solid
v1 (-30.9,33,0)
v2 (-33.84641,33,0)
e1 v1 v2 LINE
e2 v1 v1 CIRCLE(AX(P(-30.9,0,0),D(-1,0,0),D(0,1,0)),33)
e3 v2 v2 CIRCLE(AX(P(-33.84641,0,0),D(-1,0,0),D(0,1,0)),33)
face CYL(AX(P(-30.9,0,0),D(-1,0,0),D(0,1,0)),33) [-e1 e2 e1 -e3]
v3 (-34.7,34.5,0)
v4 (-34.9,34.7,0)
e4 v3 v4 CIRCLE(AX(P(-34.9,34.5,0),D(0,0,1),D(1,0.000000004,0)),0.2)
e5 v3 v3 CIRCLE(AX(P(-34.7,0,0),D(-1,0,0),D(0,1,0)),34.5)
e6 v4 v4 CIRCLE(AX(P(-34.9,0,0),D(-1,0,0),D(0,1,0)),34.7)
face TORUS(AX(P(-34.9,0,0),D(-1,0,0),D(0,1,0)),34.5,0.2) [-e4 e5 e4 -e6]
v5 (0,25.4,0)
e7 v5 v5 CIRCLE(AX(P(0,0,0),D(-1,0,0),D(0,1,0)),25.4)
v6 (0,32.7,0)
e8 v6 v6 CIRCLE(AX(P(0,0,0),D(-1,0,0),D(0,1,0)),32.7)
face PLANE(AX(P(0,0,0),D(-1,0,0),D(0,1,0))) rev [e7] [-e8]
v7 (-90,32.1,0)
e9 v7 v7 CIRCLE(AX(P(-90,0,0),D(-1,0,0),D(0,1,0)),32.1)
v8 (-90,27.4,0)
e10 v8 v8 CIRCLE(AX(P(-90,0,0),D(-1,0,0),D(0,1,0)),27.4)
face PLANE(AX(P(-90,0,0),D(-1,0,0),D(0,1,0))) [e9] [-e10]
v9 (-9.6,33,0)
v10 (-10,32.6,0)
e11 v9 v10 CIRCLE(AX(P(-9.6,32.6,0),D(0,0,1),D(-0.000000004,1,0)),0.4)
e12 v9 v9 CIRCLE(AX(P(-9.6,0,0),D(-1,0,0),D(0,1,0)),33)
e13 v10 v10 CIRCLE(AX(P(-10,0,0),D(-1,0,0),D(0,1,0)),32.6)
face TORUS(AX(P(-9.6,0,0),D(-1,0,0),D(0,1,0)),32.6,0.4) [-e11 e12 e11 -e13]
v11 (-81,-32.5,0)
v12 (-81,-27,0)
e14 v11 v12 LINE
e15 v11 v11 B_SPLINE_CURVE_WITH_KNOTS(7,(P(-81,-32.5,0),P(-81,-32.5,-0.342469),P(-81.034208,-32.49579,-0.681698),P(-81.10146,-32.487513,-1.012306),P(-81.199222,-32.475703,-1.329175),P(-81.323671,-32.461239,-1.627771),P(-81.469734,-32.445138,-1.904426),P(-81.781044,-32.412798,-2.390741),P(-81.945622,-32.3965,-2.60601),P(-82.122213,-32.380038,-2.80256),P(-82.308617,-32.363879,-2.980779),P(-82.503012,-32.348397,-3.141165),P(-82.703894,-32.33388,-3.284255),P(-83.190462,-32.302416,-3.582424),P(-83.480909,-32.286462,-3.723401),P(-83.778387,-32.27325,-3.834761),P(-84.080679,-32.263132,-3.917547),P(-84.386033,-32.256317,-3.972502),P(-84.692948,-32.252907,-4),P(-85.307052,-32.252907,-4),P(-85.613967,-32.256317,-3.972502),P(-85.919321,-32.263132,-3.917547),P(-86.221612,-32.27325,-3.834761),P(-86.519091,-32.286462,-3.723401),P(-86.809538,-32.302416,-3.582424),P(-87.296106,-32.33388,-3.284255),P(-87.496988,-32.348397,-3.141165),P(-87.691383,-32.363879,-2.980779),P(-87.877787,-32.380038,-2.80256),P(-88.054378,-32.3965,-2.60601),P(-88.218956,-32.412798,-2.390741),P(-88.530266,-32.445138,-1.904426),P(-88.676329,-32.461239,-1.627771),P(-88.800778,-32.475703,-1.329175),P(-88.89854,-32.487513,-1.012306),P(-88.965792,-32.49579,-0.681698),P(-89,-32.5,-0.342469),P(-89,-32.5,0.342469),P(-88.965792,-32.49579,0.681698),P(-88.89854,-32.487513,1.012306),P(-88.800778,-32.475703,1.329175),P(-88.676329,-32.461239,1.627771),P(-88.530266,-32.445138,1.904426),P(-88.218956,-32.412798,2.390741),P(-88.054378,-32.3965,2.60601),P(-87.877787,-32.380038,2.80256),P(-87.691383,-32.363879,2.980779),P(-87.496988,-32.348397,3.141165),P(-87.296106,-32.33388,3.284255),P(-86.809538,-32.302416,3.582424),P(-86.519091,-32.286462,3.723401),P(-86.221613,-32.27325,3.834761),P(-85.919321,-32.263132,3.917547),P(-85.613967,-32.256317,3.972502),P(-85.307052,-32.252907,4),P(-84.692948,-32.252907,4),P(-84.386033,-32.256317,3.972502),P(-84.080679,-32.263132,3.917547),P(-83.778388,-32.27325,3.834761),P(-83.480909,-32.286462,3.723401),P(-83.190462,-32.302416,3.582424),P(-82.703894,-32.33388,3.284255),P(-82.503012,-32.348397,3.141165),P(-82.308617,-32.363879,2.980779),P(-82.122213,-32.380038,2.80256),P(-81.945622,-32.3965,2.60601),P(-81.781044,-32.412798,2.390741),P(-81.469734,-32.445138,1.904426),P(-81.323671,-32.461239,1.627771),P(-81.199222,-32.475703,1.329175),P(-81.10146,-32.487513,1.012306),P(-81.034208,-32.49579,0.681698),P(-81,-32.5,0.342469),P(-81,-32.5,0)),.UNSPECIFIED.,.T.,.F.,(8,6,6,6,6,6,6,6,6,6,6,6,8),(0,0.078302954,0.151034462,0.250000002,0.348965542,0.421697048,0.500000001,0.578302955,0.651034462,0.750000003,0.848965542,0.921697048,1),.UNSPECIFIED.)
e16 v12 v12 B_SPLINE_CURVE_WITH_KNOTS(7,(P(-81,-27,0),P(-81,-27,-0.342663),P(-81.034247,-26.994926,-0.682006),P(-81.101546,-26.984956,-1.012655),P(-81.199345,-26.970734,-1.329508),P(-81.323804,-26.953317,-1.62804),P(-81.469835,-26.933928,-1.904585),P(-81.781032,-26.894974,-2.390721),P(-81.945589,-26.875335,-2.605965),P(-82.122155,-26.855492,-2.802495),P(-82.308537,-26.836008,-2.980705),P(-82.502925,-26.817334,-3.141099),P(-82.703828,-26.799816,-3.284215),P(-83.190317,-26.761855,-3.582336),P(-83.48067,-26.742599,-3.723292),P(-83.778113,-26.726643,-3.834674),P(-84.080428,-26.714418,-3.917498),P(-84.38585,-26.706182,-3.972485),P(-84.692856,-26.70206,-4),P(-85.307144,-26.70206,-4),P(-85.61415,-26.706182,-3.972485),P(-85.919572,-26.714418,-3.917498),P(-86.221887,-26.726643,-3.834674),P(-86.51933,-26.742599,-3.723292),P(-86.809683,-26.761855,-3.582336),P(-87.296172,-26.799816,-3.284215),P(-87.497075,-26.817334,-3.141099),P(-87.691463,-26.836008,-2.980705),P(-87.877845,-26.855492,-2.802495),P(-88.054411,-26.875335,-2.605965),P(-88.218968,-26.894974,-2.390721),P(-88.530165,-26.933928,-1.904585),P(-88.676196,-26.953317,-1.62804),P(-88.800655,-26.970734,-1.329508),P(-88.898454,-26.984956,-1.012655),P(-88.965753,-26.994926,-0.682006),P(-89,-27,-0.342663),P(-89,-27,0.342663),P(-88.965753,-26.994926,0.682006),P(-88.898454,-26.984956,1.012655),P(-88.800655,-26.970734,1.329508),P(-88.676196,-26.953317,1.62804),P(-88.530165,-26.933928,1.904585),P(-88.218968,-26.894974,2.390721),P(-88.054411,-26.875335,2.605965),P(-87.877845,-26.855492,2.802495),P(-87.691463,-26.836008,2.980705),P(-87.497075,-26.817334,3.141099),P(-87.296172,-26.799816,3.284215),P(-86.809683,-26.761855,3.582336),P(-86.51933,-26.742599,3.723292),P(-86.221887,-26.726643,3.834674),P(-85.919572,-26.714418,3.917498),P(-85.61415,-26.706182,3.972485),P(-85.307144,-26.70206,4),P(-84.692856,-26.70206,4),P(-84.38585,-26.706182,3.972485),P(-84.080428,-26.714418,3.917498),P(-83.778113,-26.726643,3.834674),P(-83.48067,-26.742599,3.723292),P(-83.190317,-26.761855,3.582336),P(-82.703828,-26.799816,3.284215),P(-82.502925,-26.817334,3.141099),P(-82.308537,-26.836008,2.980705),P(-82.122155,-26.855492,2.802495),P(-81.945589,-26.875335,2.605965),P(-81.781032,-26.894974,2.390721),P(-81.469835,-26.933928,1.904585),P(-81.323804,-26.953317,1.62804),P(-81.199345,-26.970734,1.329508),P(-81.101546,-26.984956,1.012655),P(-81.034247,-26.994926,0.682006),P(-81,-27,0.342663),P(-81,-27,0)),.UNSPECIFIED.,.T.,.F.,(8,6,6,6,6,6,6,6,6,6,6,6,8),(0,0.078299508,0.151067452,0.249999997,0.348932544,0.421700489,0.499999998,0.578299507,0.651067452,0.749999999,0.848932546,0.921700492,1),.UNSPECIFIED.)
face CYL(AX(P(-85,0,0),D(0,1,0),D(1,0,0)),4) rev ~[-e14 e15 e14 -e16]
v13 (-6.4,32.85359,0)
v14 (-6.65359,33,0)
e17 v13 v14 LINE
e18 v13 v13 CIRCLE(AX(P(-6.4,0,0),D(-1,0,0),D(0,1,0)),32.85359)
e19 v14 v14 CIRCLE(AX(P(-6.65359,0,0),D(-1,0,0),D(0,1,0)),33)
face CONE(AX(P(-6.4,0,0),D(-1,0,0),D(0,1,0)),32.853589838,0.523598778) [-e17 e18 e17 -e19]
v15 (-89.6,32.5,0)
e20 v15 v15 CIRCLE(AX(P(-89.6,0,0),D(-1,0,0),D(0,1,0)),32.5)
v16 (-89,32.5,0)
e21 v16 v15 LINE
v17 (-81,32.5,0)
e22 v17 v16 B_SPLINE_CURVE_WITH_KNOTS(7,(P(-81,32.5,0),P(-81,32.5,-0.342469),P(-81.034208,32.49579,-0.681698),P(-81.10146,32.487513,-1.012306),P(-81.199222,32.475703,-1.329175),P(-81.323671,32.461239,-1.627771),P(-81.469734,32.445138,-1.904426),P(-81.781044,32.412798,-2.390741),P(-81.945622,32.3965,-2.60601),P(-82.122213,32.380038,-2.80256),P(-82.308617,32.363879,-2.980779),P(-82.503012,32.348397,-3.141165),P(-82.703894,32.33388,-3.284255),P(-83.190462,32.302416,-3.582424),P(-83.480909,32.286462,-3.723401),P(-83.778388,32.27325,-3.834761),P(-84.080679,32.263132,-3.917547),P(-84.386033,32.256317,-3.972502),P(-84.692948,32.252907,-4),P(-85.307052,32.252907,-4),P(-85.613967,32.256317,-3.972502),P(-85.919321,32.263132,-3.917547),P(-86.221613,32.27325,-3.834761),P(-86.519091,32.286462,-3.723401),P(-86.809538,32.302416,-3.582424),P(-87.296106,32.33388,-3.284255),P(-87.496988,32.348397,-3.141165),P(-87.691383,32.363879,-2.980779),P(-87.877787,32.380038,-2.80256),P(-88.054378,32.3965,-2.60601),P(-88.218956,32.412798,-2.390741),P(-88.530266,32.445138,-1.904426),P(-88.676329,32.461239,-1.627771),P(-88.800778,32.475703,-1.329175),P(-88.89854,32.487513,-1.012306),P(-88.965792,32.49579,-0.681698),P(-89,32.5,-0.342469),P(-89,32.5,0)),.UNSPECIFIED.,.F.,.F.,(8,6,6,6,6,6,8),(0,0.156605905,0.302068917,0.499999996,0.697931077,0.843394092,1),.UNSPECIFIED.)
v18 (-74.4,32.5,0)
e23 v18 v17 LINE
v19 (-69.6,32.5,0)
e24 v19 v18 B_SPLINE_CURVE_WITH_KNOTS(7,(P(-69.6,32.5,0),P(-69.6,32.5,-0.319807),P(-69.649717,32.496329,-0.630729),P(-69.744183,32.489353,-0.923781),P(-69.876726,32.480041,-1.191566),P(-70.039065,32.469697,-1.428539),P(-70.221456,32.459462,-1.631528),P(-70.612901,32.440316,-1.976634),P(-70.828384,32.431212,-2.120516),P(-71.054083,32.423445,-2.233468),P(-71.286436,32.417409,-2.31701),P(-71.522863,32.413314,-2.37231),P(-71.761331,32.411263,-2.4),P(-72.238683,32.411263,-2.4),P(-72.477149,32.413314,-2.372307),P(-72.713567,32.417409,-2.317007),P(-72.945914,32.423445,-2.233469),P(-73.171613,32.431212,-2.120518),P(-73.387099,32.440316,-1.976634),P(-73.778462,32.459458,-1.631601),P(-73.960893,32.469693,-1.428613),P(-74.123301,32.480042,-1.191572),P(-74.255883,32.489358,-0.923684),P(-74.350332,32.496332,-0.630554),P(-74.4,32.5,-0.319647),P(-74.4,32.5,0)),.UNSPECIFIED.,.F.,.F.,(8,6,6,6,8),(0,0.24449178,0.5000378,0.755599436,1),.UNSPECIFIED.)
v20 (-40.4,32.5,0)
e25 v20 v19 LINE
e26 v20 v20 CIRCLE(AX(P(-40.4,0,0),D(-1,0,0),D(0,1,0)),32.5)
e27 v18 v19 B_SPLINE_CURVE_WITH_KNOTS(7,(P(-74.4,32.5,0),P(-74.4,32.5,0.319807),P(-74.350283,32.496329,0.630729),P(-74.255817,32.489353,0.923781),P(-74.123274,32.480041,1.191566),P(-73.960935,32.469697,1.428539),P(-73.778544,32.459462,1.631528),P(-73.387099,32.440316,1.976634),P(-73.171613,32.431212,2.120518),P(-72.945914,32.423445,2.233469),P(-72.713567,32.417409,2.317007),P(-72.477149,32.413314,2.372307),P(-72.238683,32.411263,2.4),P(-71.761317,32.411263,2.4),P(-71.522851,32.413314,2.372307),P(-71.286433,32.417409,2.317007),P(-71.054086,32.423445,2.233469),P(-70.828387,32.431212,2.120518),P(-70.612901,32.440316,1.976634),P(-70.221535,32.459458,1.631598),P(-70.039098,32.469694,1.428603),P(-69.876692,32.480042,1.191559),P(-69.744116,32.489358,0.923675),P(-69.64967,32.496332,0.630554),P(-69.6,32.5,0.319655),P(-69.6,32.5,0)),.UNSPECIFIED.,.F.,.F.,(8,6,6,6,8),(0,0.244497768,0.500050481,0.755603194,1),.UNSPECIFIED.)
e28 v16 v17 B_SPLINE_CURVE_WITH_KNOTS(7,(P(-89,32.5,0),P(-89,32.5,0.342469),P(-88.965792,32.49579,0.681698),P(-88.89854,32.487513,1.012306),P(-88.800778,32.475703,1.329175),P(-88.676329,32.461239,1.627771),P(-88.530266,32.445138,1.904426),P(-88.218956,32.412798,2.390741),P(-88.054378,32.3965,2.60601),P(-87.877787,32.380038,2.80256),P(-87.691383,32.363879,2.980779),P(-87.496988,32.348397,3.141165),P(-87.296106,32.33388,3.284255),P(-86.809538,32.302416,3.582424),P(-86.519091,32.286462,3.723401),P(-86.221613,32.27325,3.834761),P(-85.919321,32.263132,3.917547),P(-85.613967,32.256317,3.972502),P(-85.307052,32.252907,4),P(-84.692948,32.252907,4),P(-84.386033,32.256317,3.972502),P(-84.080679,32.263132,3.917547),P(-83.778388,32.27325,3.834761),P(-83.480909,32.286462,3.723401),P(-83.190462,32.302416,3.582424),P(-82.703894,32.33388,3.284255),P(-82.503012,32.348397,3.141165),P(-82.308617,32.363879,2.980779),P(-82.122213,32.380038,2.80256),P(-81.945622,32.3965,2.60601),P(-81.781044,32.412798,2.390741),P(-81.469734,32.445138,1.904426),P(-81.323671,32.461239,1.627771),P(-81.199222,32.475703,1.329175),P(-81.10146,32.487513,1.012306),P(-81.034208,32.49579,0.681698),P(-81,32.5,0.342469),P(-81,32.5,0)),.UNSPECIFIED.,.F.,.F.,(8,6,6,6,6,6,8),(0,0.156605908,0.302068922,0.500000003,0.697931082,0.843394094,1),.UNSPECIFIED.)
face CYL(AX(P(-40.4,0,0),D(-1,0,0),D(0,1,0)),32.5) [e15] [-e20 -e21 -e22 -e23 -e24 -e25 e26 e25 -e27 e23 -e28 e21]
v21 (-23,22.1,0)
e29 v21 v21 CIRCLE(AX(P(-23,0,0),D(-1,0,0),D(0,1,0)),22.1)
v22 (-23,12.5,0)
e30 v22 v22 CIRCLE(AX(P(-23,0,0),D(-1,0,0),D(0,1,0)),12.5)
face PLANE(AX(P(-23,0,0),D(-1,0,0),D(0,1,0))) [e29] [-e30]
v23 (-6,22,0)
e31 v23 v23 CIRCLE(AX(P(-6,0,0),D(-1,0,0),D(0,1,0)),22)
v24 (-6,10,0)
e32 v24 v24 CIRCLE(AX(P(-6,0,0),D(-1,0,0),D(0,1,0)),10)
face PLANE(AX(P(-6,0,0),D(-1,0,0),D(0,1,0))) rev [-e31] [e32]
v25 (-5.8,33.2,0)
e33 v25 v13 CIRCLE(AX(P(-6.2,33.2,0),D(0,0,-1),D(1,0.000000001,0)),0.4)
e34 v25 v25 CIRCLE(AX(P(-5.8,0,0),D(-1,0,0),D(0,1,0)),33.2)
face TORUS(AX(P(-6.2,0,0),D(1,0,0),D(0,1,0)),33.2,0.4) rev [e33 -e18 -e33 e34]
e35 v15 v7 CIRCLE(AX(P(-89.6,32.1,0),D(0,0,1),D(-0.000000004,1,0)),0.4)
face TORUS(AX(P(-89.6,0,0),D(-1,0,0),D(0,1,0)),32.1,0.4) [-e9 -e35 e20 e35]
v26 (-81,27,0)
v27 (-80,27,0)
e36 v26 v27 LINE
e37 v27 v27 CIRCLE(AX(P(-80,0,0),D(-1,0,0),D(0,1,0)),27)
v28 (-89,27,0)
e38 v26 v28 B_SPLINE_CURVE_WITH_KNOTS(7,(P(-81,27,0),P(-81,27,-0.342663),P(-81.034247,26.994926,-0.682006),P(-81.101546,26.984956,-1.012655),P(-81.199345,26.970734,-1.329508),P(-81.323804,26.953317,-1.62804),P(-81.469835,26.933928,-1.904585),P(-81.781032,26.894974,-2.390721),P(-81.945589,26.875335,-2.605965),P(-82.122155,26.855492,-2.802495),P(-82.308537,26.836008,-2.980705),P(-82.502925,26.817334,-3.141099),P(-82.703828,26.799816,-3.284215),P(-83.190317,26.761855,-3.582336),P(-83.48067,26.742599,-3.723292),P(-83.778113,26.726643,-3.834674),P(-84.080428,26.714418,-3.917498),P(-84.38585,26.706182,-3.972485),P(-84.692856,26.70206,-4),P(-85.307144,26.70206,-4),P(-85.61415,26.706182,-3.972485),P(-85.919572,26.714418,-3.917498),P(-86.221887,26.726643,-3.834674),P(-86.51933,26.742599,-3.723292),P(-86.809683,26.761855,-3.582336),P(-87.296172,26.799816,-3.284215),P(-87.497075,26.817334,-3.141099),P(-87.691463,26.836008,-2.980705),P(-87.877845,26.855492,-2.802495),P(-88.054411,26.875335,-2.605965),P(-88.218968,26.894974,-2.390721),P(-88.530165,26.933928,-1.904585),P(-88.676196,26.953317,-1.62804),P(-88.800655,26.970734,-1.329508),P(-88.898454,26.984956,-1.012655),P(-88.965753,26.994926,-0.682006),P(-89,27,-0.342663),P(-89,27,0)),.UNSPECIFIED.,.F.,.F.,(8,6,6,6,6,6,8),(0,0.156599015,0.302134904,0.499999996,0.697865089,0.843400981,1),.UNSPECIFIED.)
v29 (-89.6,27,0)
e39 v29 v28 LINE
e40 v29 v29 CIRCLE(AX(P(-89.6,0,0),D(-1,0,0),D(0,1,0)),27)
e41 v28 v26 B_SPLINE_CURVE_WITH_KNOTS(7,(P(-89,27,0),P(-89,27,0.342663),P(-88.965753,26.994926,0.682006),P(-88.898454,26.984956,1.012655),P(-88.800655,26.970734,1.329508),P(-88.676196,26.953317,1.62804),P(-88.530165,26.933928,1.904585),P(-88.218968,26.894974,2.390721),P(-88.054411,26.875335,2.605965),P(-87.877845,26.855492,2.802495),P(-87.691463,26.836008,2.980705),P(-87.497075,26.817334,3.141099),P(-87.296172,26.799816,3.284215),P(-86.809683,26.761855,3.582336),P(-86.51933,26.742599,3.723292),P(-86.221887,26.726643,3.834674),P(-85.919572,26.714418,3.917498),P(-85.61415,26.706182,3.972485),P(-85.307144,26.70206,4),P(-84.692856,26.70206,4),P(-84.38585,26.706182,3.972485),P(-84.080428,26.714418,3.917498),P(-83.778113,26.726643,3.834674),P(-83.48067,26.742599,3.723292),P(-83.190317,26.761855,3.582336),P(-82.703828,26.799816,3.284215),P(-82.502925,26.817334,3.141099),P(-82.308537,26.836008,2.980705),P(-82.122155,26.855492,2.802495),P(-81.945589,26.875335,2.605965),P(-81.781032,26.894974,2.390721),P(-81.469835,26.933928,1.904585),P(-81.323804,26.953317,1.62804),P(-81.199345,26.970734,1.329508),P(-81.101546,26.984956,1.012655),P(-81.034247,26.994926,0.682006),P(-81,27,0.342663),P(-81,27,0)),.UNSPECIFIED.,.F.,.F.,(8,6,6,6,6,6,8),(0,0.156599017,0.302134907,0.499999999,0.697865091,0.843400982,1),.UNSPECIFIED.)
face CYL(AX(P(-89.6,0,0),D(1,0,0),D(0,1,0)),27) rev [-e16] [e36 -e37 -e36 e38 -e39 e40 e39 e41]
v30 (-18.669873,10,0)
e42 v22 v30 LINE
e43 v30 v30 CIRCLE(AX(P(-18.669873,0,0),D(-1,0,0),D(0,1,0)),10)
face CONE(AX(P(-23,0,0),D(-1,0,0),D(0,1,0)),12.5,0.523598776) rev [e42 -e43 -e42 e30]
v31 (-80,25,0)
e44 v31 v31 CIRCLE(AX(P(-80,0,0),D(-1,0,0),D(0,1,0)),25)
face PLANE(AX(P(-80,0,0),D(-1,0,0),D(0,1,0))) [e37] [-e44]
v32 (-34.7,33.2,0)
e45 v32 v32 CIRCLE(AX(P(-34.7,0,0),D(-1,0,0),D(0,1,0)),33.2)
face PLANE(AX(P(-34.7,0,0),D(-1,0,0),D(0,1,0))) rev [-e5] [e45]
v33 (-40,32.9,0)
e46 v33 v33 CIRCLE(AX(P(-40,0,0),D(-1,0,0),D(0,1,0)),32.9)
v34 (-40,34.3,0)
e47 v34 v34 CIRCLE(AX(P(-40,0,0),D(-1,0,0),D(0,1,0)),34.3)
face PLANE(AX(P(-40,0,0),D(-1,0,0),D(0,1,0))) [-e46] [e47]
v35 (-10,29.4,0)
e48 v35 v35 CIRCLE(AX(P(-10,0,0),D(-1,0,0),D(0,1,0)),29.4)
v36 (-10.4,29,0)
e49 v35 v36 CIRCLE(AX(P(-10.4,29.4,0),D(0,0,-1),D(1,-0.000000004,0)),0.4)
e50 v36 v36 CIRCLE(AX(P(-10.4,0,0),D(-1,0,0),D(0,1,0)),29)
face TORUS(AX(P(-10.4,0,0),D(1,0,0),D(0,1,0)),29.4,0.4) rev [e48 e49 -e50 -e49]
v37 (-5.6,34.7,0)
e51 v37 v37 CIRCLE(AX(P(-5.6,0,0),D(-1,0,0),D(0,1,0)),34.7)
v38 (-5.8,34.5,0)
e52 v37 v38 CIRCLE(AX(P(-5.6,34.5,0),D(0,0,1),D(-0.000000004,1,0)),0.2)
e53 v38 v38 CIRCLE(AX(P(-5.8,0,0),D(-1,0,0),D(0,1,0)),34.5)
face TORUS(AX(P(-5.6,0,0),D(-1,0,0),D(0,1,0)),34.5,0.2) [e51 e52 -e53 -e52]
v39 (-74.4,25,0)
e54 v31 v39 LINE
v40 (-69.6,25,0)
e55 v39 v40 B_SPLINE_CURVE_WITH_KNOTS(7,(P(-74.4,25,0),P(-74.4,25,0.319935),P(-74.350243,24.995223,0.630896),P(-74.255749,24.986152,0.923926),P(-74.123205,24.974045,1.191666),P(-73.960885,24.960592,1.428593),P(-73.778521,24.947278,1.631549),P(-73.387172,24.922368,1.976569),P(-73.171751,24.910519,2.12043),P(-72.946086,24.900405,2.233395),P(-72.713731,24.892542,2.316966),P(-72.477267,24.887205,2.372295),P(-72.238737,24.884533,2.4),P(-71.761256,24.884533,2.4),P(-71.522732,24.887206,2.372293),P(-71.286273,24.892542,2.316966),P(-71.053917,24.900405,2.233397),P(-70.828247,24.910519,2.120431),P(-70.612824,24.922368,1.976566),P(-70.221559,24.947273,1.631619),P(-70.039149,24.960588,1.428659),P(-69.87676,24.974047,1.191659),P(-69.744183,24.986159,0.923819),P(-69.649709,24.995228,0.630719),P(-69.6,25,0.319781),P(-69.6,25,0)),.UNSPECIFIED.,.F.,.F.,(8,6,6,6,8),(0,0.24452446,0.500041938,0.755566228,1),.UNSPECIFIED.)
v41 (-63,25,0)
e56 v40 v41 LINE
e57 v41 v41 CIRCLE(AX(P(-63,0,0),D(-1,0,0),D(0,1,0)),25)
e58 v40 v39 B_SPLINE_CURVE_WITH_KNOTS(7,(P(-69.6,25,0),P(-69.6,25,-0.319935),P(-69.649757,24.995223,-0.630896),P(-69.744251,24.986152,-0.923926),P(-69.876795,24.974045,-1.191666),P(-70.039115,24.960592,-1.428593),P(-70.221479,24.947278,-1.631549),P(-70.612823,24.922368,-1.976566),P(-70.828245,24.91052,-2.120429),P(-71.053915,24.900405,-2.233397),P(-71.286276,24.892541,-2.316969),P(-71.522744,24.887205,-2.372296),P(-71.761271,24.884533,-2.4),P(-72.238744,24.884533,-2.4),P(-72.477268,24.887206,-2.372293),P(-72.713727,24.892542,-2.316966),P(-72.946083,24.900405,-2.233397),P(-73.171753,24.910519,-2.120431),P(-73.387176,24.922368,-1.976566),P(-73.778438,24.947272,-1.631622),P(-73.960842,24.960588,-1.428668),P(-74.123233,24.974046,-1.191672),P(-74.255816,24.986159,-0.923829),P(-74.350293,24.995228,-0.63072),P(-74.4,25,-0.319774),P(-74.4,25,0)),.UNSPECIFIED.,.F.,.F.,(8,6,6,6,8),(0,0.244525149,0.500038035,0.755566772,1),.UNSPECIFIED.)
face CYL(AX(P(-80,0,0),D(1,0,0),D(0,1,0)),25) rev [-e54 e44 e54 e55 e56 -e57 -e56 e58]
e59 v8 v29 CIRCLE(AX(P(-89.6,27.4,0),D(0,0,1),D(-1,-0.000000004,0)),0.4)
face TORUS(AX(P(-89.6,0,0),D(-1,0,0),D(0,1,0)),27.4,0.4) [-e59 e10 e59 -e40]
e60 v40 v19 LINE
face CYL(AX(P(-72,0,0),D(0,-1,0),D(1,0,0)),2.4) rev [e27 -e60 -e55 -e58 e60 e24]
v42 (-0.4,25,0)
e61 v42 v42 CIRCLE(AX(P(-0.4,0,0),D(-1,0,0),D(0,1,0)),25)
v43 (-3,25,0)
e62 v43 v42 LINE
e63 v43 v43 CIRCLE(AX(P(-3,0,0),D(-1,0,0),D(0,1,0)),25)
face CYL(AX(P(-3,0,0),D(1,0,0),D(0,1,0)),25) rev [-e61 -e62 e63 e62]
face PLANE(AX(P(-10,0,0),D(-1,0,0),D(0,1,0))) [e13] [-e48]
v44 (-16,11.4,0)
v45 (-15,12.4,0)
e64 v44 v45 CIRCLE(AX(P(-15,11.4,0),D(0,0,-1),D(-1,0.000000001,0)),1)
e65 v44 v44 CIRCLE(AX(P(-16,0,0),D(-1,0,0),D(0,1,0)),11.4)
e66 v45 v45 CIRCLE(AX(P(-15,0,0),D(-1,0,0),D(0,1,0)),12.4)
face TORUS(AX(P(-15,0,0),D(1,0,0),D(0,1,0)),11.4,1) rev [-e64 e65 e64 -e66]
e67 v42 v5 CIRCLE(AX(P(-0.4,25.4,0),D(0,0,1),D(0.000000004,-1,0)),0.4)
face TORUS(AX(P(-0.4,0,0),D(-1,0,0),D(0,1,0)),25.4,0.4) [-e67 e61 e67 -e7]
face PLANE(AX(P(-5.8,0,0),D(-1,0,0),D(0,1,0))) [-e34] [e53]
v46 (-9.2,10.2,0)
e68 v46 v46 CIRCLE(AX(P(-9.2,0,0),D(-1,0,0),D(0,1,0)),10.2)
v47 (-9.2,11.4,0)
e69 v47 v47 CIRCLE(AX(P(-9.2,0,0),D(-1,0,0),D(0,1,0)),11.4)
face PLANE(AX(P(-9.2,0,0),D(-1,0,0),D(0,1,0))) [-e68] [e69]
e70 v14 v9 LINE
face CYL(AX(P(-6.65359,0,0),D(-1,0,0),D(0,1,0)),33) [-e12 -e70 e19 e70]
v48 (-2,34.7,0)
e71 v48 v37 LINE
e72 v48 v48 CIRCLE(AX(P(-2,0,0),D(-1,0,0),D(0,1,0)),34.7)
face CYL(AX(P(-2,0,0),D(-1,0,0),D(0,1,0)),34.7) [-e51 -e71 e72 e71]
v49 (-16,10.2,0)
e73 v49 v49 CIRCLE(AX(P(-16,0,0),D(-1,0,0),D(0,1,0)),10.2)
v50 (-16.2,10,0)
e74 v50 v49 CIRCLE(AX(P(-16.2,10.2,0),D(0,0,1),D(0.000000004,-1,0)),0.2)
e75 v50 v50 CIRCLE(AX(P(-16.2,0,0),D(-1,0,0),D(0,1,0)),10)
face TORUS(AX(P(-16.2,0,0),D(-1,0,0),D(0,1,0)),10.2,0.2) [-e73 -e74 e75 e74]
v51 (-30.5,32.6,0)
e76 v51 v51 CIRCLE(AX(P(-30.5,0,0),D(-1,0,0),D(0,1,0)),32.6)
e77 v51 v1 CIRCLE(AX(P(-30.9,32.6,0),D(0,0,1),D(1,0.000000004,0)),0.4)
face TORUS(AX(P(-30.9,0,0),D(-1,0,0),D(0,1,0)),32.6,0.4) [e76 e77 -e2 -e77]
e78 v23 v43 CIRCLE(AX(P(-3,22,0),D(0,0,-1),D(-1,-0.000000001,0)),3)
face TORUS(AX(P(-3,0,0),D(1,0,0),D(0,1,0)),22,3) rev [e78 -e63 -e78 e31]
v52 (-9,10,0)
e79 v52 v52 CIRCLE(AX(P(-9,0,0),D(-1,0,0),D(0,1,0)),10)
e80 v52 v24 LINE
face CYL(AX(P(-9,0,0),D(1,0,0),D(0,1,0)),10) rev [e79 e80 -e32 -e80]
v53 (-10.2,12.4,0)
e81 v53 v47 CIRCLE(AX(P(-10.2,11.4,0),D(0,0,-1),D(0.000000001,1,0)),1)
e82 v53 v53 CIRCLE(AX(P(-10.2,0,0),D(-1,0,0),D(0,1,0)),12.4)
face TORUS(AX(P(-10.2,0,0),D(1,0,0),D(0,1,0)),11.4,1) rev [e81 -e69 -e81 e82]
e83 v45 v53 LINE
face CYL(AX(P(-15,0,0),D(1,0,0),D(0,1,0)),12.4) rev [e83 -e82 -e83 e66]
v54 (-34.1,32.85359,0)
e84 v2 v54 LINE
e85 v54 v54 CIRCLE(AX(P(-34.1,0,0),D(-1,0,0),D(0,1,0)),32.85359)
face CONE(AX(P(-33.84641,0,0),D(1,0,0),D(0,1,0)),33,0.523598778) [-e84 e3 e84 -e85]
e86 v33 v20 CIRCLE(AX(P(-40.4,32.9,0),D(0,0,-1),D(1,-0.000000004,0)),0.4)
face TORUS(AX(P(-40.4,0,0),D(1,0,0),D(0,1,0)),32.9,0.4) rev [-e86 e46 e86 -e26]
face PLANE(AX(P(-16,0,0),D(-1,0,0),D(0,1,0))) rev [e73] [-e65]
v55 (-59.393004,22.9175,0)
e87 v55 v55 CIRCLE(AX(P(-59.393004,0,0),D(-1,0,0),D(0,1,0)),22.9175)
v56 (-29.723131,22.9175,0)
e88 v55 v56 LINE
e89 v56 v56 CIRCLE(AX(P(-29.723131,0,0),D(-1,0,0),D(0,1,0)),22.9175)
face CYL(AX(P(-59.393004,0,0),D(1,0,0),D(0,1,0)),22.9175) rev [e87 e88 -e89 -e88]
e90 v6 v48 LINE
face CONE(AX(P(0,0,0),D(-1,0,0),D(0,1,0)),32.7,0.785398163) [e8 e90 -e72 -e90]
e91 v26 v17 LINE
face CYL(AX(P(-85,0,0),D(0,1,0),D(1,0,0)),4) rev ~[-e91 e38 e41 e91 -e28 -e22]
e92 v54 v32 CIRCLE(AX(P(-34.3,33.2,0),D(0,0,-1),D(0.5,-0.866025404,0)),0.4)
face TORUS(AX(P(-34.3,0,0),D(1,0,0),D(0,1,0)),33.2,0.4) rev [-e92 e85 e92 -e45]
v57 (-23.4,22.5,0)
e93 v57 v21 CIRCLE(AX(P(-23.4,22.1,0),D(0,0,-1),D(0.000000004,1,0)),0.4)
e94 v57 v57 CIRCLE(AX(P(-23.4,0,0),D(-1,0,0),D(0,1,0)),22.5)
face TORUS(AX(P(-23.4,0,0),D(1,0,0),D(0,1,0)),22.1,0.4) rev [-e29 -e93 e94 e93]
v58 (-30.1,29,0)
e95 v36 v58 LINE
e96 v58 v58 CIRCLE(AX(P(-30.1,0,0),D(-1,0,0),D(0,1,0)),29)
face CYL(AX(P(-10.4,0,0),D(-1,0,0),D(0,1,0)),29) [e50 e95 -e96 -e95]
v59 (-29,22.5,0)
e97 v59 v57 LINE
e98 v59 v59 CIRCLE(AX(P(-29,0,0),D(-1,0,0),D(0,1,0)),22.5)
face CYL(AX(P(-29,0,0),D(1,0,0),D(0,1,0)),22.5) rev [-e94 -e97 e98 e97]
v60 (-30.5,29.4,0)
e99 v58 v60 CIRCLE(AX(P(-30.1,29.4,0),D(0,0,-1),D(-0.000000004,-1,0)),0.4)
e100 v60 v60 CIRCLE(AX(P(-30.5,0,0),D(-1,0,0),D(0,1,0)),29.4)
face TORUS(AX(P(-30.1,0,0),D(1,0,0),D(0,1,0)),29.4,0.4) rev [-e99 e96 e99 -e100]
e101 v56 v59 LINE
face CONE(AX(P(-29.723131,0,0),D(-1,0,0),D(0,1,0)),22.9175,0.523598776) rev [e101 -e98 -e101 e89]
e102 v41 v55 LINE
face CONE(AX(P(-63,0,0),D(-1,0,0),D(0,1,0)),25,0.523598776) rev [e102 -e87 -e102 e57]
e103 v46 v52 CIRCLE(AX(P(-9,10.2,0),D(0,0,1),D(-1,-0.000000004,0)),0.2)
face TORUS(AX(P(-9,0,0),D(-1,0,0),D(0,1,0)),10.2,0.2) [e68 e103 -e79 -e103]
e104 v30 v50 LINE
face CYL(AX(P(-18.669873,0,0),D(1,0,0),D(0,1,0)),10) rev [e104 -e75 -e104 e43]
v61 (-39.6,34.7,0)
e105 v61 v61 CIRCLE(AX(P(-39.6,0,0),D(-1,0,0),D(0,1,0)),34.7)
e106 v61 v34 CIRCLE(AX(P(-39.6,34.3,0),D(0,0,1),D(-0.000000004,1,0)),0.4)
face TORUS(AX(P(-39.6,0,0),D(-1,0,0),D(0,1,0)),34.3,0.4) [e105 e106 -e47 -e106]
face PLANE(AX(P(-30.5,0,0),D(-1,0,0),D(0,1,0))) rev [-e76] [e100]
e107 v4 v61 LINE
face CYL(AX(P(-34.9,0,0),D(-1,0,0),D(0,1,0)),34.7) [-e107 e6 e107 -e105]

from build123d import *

# Parameters (mm, degrees)
SKETCH2_R          = 4
CUT_EXTRUDE2_DEPTH = 40.5
SKETCH3_R          = 2.4
CUT_EXTRUDE3_DEPTH = 40.5


with BuildPart() as part:
    # Sketch1 → Base-Revolve (revolve)
    with BuildSketch(Plane.XY):
        with BuildLine():
            Line((0, 25.4), (0, 32.7))
            Line((0, 32.7), (-2, 34.7))
            Line((-2, 34.7), (-5.6, 34.7))
            ThreePointArc((-5.6, 34.7), (-5.741421356, 34.641421356), (-5.8, 34.5))
            Line((-5.8, 34.5), (-5.8, 33.2))
            ThreePointArc((-5.8, 33.2), (-6, 32.853589838), (-6.4, 32.853589838))
            Line((-6.4, 32.853589838), (-6.653589838, 33))
            Line((-6.653589838, 33), (-9.6, 33))
            ThreePointArc((-9.6, 33), (-9.882842712, 32.882842712), (-10, 32.6))
            Line((-10, 32.6), (-10, 29.4))
            ThreePointArc((-10, 29.4), (-10.117157288, 29.117157288), (-10.4, 29))
            Line((-10.4, 29), (-30.1, 29))
            ThreePointArc((-30.1, 29), (-30.382842712, 29.117157288), (-30.5, 29.4))
            Line((-30.5, 29.4), (-30.5, 32.6))
            ThreePointArc((-30.5, 32.6), (-30.617157288, 32.882842712), (-30.9, 33))
            Line((-30.9, 33), (-33.846410162, 33))
            Line((-33.846410162, 33), (-34.1, 32.853589838))
            ThreePointArc((-34.1, 32.853589838), (-34.5, 32.853589838), (-34.7, 33.2))
            Line((-34.7, 33.2), (-34.7, 34.5))
            ThreePointArc((-34.7, 34.5), (-34.758578644, 34.641421356), (-34.9, 34.7))
            Line((-34.9, 34.7), (-39.6, 34.7))
            ThreePointArc((-39.6, 34.7), (-39.882842712, 34.582842712), (-40, 34.3))
            Line((-40, 34.3), (-40, 32.9))
            ThreePointArc((-40, 32.9), (-40.117157288, 32.617157288), (-40.4, 32.5))
            Line((-40.4, 32.5), (-89.6, 32.5))
            ThreePointArc((-89.6, 32.5), (-89.882842712, 32.382842712), (-90, 32.1))
            Line((-90, 32.1), (-90, 27.4))
            ThreePointArc((-90, 27.4), (-89.882842712, 27.117157288), (-89.6, 27))
            Line((-89.6, 27), (-80, 27))
            Line((-80, 27), (-80, 25))
            Line((-80, 25), (-63, 25))
            Line((-63, 25), (-59.393004193, 22.9175))
            Line((-59.393004193, 22.9175), (-29.723131212, 22.9175))
            Line((-29.723131212, 22.9175), (-29, 22.5))
            Line((-29, 22.5), (-23.4, 22.5))
            ThreePointArc((-23.4, 22.5), (-23.117157288, 22.382842712), (-23, 22.1))
            Line((-23, 22.1), (-23, 12.5))
            Line((-23, 12.5), (-18.669872981, 10))
            Line((-18.669872981, 10), (-16.2, 10))
            ThreePointArc((-16.2, 10), (-16.058578644, 10.058578644), (-16, 10.2))
            Line((-16, 10.2), (-16, 11.4))
            ThreePointArc((-16, 11.4), (-15.707106781, 12.107106781), (-15, 12.4))
            Line((-15, 12.4), (-10.2, 12.4))
            ThreePointArc((-10.2, 12.4), (-9.492893219, 12.107106781), (-9.2, 11.4))
            Line((-9.2, 11.4), (-9.2, 10.2))
            ThreePointArc((-9.2, 10.2), (-9.141421356, 10.058578644), (-9, 10))
            Line((-9, 10), (-6, 10))
            Line((-6, 10), (-6, 22))
            ThreePointArc((-6, 22), (-5.121320344, 24.121320344), (-3, 25))
            Line((-3, 25), (-0.4, 25))
            ThreePointArc((-0.4, 25), (-0.117157288, 25.117157288), (0, 25.4))
        make_face()
    revolve(axis=Axis((0, 0, 0), (-1, 0, 0)))

    # Sketch2 → Cut-Extrude2 (cut, symmetric)
    with BuildSketch(Plane(origin=(0, 0, 0), x_dir=(1, 0, 0), z_dir=(0, 1, 0))):
        with Locations((-85, 0)):
            Circle(SKETCH2_R)
    extrude(amount=CUT_EXTRUDE2_DEPTH, both=True, mode=Mode.SUBTRACT)

    # Sketch3 → Cut-Extrude3 (cut)
    with BuildSketch(Plane(origin=(0, 0, 0), x_dir=(1, 0, 0), z_dir=(0, 1, 0))):
        with Locations((-72, 0)):
            Circle(SKETCH3_R)
    extrude(amount=CUT_EXTRUDE3_DEPTH, mode=Mode.SUBTRACT)


solid = part.part
